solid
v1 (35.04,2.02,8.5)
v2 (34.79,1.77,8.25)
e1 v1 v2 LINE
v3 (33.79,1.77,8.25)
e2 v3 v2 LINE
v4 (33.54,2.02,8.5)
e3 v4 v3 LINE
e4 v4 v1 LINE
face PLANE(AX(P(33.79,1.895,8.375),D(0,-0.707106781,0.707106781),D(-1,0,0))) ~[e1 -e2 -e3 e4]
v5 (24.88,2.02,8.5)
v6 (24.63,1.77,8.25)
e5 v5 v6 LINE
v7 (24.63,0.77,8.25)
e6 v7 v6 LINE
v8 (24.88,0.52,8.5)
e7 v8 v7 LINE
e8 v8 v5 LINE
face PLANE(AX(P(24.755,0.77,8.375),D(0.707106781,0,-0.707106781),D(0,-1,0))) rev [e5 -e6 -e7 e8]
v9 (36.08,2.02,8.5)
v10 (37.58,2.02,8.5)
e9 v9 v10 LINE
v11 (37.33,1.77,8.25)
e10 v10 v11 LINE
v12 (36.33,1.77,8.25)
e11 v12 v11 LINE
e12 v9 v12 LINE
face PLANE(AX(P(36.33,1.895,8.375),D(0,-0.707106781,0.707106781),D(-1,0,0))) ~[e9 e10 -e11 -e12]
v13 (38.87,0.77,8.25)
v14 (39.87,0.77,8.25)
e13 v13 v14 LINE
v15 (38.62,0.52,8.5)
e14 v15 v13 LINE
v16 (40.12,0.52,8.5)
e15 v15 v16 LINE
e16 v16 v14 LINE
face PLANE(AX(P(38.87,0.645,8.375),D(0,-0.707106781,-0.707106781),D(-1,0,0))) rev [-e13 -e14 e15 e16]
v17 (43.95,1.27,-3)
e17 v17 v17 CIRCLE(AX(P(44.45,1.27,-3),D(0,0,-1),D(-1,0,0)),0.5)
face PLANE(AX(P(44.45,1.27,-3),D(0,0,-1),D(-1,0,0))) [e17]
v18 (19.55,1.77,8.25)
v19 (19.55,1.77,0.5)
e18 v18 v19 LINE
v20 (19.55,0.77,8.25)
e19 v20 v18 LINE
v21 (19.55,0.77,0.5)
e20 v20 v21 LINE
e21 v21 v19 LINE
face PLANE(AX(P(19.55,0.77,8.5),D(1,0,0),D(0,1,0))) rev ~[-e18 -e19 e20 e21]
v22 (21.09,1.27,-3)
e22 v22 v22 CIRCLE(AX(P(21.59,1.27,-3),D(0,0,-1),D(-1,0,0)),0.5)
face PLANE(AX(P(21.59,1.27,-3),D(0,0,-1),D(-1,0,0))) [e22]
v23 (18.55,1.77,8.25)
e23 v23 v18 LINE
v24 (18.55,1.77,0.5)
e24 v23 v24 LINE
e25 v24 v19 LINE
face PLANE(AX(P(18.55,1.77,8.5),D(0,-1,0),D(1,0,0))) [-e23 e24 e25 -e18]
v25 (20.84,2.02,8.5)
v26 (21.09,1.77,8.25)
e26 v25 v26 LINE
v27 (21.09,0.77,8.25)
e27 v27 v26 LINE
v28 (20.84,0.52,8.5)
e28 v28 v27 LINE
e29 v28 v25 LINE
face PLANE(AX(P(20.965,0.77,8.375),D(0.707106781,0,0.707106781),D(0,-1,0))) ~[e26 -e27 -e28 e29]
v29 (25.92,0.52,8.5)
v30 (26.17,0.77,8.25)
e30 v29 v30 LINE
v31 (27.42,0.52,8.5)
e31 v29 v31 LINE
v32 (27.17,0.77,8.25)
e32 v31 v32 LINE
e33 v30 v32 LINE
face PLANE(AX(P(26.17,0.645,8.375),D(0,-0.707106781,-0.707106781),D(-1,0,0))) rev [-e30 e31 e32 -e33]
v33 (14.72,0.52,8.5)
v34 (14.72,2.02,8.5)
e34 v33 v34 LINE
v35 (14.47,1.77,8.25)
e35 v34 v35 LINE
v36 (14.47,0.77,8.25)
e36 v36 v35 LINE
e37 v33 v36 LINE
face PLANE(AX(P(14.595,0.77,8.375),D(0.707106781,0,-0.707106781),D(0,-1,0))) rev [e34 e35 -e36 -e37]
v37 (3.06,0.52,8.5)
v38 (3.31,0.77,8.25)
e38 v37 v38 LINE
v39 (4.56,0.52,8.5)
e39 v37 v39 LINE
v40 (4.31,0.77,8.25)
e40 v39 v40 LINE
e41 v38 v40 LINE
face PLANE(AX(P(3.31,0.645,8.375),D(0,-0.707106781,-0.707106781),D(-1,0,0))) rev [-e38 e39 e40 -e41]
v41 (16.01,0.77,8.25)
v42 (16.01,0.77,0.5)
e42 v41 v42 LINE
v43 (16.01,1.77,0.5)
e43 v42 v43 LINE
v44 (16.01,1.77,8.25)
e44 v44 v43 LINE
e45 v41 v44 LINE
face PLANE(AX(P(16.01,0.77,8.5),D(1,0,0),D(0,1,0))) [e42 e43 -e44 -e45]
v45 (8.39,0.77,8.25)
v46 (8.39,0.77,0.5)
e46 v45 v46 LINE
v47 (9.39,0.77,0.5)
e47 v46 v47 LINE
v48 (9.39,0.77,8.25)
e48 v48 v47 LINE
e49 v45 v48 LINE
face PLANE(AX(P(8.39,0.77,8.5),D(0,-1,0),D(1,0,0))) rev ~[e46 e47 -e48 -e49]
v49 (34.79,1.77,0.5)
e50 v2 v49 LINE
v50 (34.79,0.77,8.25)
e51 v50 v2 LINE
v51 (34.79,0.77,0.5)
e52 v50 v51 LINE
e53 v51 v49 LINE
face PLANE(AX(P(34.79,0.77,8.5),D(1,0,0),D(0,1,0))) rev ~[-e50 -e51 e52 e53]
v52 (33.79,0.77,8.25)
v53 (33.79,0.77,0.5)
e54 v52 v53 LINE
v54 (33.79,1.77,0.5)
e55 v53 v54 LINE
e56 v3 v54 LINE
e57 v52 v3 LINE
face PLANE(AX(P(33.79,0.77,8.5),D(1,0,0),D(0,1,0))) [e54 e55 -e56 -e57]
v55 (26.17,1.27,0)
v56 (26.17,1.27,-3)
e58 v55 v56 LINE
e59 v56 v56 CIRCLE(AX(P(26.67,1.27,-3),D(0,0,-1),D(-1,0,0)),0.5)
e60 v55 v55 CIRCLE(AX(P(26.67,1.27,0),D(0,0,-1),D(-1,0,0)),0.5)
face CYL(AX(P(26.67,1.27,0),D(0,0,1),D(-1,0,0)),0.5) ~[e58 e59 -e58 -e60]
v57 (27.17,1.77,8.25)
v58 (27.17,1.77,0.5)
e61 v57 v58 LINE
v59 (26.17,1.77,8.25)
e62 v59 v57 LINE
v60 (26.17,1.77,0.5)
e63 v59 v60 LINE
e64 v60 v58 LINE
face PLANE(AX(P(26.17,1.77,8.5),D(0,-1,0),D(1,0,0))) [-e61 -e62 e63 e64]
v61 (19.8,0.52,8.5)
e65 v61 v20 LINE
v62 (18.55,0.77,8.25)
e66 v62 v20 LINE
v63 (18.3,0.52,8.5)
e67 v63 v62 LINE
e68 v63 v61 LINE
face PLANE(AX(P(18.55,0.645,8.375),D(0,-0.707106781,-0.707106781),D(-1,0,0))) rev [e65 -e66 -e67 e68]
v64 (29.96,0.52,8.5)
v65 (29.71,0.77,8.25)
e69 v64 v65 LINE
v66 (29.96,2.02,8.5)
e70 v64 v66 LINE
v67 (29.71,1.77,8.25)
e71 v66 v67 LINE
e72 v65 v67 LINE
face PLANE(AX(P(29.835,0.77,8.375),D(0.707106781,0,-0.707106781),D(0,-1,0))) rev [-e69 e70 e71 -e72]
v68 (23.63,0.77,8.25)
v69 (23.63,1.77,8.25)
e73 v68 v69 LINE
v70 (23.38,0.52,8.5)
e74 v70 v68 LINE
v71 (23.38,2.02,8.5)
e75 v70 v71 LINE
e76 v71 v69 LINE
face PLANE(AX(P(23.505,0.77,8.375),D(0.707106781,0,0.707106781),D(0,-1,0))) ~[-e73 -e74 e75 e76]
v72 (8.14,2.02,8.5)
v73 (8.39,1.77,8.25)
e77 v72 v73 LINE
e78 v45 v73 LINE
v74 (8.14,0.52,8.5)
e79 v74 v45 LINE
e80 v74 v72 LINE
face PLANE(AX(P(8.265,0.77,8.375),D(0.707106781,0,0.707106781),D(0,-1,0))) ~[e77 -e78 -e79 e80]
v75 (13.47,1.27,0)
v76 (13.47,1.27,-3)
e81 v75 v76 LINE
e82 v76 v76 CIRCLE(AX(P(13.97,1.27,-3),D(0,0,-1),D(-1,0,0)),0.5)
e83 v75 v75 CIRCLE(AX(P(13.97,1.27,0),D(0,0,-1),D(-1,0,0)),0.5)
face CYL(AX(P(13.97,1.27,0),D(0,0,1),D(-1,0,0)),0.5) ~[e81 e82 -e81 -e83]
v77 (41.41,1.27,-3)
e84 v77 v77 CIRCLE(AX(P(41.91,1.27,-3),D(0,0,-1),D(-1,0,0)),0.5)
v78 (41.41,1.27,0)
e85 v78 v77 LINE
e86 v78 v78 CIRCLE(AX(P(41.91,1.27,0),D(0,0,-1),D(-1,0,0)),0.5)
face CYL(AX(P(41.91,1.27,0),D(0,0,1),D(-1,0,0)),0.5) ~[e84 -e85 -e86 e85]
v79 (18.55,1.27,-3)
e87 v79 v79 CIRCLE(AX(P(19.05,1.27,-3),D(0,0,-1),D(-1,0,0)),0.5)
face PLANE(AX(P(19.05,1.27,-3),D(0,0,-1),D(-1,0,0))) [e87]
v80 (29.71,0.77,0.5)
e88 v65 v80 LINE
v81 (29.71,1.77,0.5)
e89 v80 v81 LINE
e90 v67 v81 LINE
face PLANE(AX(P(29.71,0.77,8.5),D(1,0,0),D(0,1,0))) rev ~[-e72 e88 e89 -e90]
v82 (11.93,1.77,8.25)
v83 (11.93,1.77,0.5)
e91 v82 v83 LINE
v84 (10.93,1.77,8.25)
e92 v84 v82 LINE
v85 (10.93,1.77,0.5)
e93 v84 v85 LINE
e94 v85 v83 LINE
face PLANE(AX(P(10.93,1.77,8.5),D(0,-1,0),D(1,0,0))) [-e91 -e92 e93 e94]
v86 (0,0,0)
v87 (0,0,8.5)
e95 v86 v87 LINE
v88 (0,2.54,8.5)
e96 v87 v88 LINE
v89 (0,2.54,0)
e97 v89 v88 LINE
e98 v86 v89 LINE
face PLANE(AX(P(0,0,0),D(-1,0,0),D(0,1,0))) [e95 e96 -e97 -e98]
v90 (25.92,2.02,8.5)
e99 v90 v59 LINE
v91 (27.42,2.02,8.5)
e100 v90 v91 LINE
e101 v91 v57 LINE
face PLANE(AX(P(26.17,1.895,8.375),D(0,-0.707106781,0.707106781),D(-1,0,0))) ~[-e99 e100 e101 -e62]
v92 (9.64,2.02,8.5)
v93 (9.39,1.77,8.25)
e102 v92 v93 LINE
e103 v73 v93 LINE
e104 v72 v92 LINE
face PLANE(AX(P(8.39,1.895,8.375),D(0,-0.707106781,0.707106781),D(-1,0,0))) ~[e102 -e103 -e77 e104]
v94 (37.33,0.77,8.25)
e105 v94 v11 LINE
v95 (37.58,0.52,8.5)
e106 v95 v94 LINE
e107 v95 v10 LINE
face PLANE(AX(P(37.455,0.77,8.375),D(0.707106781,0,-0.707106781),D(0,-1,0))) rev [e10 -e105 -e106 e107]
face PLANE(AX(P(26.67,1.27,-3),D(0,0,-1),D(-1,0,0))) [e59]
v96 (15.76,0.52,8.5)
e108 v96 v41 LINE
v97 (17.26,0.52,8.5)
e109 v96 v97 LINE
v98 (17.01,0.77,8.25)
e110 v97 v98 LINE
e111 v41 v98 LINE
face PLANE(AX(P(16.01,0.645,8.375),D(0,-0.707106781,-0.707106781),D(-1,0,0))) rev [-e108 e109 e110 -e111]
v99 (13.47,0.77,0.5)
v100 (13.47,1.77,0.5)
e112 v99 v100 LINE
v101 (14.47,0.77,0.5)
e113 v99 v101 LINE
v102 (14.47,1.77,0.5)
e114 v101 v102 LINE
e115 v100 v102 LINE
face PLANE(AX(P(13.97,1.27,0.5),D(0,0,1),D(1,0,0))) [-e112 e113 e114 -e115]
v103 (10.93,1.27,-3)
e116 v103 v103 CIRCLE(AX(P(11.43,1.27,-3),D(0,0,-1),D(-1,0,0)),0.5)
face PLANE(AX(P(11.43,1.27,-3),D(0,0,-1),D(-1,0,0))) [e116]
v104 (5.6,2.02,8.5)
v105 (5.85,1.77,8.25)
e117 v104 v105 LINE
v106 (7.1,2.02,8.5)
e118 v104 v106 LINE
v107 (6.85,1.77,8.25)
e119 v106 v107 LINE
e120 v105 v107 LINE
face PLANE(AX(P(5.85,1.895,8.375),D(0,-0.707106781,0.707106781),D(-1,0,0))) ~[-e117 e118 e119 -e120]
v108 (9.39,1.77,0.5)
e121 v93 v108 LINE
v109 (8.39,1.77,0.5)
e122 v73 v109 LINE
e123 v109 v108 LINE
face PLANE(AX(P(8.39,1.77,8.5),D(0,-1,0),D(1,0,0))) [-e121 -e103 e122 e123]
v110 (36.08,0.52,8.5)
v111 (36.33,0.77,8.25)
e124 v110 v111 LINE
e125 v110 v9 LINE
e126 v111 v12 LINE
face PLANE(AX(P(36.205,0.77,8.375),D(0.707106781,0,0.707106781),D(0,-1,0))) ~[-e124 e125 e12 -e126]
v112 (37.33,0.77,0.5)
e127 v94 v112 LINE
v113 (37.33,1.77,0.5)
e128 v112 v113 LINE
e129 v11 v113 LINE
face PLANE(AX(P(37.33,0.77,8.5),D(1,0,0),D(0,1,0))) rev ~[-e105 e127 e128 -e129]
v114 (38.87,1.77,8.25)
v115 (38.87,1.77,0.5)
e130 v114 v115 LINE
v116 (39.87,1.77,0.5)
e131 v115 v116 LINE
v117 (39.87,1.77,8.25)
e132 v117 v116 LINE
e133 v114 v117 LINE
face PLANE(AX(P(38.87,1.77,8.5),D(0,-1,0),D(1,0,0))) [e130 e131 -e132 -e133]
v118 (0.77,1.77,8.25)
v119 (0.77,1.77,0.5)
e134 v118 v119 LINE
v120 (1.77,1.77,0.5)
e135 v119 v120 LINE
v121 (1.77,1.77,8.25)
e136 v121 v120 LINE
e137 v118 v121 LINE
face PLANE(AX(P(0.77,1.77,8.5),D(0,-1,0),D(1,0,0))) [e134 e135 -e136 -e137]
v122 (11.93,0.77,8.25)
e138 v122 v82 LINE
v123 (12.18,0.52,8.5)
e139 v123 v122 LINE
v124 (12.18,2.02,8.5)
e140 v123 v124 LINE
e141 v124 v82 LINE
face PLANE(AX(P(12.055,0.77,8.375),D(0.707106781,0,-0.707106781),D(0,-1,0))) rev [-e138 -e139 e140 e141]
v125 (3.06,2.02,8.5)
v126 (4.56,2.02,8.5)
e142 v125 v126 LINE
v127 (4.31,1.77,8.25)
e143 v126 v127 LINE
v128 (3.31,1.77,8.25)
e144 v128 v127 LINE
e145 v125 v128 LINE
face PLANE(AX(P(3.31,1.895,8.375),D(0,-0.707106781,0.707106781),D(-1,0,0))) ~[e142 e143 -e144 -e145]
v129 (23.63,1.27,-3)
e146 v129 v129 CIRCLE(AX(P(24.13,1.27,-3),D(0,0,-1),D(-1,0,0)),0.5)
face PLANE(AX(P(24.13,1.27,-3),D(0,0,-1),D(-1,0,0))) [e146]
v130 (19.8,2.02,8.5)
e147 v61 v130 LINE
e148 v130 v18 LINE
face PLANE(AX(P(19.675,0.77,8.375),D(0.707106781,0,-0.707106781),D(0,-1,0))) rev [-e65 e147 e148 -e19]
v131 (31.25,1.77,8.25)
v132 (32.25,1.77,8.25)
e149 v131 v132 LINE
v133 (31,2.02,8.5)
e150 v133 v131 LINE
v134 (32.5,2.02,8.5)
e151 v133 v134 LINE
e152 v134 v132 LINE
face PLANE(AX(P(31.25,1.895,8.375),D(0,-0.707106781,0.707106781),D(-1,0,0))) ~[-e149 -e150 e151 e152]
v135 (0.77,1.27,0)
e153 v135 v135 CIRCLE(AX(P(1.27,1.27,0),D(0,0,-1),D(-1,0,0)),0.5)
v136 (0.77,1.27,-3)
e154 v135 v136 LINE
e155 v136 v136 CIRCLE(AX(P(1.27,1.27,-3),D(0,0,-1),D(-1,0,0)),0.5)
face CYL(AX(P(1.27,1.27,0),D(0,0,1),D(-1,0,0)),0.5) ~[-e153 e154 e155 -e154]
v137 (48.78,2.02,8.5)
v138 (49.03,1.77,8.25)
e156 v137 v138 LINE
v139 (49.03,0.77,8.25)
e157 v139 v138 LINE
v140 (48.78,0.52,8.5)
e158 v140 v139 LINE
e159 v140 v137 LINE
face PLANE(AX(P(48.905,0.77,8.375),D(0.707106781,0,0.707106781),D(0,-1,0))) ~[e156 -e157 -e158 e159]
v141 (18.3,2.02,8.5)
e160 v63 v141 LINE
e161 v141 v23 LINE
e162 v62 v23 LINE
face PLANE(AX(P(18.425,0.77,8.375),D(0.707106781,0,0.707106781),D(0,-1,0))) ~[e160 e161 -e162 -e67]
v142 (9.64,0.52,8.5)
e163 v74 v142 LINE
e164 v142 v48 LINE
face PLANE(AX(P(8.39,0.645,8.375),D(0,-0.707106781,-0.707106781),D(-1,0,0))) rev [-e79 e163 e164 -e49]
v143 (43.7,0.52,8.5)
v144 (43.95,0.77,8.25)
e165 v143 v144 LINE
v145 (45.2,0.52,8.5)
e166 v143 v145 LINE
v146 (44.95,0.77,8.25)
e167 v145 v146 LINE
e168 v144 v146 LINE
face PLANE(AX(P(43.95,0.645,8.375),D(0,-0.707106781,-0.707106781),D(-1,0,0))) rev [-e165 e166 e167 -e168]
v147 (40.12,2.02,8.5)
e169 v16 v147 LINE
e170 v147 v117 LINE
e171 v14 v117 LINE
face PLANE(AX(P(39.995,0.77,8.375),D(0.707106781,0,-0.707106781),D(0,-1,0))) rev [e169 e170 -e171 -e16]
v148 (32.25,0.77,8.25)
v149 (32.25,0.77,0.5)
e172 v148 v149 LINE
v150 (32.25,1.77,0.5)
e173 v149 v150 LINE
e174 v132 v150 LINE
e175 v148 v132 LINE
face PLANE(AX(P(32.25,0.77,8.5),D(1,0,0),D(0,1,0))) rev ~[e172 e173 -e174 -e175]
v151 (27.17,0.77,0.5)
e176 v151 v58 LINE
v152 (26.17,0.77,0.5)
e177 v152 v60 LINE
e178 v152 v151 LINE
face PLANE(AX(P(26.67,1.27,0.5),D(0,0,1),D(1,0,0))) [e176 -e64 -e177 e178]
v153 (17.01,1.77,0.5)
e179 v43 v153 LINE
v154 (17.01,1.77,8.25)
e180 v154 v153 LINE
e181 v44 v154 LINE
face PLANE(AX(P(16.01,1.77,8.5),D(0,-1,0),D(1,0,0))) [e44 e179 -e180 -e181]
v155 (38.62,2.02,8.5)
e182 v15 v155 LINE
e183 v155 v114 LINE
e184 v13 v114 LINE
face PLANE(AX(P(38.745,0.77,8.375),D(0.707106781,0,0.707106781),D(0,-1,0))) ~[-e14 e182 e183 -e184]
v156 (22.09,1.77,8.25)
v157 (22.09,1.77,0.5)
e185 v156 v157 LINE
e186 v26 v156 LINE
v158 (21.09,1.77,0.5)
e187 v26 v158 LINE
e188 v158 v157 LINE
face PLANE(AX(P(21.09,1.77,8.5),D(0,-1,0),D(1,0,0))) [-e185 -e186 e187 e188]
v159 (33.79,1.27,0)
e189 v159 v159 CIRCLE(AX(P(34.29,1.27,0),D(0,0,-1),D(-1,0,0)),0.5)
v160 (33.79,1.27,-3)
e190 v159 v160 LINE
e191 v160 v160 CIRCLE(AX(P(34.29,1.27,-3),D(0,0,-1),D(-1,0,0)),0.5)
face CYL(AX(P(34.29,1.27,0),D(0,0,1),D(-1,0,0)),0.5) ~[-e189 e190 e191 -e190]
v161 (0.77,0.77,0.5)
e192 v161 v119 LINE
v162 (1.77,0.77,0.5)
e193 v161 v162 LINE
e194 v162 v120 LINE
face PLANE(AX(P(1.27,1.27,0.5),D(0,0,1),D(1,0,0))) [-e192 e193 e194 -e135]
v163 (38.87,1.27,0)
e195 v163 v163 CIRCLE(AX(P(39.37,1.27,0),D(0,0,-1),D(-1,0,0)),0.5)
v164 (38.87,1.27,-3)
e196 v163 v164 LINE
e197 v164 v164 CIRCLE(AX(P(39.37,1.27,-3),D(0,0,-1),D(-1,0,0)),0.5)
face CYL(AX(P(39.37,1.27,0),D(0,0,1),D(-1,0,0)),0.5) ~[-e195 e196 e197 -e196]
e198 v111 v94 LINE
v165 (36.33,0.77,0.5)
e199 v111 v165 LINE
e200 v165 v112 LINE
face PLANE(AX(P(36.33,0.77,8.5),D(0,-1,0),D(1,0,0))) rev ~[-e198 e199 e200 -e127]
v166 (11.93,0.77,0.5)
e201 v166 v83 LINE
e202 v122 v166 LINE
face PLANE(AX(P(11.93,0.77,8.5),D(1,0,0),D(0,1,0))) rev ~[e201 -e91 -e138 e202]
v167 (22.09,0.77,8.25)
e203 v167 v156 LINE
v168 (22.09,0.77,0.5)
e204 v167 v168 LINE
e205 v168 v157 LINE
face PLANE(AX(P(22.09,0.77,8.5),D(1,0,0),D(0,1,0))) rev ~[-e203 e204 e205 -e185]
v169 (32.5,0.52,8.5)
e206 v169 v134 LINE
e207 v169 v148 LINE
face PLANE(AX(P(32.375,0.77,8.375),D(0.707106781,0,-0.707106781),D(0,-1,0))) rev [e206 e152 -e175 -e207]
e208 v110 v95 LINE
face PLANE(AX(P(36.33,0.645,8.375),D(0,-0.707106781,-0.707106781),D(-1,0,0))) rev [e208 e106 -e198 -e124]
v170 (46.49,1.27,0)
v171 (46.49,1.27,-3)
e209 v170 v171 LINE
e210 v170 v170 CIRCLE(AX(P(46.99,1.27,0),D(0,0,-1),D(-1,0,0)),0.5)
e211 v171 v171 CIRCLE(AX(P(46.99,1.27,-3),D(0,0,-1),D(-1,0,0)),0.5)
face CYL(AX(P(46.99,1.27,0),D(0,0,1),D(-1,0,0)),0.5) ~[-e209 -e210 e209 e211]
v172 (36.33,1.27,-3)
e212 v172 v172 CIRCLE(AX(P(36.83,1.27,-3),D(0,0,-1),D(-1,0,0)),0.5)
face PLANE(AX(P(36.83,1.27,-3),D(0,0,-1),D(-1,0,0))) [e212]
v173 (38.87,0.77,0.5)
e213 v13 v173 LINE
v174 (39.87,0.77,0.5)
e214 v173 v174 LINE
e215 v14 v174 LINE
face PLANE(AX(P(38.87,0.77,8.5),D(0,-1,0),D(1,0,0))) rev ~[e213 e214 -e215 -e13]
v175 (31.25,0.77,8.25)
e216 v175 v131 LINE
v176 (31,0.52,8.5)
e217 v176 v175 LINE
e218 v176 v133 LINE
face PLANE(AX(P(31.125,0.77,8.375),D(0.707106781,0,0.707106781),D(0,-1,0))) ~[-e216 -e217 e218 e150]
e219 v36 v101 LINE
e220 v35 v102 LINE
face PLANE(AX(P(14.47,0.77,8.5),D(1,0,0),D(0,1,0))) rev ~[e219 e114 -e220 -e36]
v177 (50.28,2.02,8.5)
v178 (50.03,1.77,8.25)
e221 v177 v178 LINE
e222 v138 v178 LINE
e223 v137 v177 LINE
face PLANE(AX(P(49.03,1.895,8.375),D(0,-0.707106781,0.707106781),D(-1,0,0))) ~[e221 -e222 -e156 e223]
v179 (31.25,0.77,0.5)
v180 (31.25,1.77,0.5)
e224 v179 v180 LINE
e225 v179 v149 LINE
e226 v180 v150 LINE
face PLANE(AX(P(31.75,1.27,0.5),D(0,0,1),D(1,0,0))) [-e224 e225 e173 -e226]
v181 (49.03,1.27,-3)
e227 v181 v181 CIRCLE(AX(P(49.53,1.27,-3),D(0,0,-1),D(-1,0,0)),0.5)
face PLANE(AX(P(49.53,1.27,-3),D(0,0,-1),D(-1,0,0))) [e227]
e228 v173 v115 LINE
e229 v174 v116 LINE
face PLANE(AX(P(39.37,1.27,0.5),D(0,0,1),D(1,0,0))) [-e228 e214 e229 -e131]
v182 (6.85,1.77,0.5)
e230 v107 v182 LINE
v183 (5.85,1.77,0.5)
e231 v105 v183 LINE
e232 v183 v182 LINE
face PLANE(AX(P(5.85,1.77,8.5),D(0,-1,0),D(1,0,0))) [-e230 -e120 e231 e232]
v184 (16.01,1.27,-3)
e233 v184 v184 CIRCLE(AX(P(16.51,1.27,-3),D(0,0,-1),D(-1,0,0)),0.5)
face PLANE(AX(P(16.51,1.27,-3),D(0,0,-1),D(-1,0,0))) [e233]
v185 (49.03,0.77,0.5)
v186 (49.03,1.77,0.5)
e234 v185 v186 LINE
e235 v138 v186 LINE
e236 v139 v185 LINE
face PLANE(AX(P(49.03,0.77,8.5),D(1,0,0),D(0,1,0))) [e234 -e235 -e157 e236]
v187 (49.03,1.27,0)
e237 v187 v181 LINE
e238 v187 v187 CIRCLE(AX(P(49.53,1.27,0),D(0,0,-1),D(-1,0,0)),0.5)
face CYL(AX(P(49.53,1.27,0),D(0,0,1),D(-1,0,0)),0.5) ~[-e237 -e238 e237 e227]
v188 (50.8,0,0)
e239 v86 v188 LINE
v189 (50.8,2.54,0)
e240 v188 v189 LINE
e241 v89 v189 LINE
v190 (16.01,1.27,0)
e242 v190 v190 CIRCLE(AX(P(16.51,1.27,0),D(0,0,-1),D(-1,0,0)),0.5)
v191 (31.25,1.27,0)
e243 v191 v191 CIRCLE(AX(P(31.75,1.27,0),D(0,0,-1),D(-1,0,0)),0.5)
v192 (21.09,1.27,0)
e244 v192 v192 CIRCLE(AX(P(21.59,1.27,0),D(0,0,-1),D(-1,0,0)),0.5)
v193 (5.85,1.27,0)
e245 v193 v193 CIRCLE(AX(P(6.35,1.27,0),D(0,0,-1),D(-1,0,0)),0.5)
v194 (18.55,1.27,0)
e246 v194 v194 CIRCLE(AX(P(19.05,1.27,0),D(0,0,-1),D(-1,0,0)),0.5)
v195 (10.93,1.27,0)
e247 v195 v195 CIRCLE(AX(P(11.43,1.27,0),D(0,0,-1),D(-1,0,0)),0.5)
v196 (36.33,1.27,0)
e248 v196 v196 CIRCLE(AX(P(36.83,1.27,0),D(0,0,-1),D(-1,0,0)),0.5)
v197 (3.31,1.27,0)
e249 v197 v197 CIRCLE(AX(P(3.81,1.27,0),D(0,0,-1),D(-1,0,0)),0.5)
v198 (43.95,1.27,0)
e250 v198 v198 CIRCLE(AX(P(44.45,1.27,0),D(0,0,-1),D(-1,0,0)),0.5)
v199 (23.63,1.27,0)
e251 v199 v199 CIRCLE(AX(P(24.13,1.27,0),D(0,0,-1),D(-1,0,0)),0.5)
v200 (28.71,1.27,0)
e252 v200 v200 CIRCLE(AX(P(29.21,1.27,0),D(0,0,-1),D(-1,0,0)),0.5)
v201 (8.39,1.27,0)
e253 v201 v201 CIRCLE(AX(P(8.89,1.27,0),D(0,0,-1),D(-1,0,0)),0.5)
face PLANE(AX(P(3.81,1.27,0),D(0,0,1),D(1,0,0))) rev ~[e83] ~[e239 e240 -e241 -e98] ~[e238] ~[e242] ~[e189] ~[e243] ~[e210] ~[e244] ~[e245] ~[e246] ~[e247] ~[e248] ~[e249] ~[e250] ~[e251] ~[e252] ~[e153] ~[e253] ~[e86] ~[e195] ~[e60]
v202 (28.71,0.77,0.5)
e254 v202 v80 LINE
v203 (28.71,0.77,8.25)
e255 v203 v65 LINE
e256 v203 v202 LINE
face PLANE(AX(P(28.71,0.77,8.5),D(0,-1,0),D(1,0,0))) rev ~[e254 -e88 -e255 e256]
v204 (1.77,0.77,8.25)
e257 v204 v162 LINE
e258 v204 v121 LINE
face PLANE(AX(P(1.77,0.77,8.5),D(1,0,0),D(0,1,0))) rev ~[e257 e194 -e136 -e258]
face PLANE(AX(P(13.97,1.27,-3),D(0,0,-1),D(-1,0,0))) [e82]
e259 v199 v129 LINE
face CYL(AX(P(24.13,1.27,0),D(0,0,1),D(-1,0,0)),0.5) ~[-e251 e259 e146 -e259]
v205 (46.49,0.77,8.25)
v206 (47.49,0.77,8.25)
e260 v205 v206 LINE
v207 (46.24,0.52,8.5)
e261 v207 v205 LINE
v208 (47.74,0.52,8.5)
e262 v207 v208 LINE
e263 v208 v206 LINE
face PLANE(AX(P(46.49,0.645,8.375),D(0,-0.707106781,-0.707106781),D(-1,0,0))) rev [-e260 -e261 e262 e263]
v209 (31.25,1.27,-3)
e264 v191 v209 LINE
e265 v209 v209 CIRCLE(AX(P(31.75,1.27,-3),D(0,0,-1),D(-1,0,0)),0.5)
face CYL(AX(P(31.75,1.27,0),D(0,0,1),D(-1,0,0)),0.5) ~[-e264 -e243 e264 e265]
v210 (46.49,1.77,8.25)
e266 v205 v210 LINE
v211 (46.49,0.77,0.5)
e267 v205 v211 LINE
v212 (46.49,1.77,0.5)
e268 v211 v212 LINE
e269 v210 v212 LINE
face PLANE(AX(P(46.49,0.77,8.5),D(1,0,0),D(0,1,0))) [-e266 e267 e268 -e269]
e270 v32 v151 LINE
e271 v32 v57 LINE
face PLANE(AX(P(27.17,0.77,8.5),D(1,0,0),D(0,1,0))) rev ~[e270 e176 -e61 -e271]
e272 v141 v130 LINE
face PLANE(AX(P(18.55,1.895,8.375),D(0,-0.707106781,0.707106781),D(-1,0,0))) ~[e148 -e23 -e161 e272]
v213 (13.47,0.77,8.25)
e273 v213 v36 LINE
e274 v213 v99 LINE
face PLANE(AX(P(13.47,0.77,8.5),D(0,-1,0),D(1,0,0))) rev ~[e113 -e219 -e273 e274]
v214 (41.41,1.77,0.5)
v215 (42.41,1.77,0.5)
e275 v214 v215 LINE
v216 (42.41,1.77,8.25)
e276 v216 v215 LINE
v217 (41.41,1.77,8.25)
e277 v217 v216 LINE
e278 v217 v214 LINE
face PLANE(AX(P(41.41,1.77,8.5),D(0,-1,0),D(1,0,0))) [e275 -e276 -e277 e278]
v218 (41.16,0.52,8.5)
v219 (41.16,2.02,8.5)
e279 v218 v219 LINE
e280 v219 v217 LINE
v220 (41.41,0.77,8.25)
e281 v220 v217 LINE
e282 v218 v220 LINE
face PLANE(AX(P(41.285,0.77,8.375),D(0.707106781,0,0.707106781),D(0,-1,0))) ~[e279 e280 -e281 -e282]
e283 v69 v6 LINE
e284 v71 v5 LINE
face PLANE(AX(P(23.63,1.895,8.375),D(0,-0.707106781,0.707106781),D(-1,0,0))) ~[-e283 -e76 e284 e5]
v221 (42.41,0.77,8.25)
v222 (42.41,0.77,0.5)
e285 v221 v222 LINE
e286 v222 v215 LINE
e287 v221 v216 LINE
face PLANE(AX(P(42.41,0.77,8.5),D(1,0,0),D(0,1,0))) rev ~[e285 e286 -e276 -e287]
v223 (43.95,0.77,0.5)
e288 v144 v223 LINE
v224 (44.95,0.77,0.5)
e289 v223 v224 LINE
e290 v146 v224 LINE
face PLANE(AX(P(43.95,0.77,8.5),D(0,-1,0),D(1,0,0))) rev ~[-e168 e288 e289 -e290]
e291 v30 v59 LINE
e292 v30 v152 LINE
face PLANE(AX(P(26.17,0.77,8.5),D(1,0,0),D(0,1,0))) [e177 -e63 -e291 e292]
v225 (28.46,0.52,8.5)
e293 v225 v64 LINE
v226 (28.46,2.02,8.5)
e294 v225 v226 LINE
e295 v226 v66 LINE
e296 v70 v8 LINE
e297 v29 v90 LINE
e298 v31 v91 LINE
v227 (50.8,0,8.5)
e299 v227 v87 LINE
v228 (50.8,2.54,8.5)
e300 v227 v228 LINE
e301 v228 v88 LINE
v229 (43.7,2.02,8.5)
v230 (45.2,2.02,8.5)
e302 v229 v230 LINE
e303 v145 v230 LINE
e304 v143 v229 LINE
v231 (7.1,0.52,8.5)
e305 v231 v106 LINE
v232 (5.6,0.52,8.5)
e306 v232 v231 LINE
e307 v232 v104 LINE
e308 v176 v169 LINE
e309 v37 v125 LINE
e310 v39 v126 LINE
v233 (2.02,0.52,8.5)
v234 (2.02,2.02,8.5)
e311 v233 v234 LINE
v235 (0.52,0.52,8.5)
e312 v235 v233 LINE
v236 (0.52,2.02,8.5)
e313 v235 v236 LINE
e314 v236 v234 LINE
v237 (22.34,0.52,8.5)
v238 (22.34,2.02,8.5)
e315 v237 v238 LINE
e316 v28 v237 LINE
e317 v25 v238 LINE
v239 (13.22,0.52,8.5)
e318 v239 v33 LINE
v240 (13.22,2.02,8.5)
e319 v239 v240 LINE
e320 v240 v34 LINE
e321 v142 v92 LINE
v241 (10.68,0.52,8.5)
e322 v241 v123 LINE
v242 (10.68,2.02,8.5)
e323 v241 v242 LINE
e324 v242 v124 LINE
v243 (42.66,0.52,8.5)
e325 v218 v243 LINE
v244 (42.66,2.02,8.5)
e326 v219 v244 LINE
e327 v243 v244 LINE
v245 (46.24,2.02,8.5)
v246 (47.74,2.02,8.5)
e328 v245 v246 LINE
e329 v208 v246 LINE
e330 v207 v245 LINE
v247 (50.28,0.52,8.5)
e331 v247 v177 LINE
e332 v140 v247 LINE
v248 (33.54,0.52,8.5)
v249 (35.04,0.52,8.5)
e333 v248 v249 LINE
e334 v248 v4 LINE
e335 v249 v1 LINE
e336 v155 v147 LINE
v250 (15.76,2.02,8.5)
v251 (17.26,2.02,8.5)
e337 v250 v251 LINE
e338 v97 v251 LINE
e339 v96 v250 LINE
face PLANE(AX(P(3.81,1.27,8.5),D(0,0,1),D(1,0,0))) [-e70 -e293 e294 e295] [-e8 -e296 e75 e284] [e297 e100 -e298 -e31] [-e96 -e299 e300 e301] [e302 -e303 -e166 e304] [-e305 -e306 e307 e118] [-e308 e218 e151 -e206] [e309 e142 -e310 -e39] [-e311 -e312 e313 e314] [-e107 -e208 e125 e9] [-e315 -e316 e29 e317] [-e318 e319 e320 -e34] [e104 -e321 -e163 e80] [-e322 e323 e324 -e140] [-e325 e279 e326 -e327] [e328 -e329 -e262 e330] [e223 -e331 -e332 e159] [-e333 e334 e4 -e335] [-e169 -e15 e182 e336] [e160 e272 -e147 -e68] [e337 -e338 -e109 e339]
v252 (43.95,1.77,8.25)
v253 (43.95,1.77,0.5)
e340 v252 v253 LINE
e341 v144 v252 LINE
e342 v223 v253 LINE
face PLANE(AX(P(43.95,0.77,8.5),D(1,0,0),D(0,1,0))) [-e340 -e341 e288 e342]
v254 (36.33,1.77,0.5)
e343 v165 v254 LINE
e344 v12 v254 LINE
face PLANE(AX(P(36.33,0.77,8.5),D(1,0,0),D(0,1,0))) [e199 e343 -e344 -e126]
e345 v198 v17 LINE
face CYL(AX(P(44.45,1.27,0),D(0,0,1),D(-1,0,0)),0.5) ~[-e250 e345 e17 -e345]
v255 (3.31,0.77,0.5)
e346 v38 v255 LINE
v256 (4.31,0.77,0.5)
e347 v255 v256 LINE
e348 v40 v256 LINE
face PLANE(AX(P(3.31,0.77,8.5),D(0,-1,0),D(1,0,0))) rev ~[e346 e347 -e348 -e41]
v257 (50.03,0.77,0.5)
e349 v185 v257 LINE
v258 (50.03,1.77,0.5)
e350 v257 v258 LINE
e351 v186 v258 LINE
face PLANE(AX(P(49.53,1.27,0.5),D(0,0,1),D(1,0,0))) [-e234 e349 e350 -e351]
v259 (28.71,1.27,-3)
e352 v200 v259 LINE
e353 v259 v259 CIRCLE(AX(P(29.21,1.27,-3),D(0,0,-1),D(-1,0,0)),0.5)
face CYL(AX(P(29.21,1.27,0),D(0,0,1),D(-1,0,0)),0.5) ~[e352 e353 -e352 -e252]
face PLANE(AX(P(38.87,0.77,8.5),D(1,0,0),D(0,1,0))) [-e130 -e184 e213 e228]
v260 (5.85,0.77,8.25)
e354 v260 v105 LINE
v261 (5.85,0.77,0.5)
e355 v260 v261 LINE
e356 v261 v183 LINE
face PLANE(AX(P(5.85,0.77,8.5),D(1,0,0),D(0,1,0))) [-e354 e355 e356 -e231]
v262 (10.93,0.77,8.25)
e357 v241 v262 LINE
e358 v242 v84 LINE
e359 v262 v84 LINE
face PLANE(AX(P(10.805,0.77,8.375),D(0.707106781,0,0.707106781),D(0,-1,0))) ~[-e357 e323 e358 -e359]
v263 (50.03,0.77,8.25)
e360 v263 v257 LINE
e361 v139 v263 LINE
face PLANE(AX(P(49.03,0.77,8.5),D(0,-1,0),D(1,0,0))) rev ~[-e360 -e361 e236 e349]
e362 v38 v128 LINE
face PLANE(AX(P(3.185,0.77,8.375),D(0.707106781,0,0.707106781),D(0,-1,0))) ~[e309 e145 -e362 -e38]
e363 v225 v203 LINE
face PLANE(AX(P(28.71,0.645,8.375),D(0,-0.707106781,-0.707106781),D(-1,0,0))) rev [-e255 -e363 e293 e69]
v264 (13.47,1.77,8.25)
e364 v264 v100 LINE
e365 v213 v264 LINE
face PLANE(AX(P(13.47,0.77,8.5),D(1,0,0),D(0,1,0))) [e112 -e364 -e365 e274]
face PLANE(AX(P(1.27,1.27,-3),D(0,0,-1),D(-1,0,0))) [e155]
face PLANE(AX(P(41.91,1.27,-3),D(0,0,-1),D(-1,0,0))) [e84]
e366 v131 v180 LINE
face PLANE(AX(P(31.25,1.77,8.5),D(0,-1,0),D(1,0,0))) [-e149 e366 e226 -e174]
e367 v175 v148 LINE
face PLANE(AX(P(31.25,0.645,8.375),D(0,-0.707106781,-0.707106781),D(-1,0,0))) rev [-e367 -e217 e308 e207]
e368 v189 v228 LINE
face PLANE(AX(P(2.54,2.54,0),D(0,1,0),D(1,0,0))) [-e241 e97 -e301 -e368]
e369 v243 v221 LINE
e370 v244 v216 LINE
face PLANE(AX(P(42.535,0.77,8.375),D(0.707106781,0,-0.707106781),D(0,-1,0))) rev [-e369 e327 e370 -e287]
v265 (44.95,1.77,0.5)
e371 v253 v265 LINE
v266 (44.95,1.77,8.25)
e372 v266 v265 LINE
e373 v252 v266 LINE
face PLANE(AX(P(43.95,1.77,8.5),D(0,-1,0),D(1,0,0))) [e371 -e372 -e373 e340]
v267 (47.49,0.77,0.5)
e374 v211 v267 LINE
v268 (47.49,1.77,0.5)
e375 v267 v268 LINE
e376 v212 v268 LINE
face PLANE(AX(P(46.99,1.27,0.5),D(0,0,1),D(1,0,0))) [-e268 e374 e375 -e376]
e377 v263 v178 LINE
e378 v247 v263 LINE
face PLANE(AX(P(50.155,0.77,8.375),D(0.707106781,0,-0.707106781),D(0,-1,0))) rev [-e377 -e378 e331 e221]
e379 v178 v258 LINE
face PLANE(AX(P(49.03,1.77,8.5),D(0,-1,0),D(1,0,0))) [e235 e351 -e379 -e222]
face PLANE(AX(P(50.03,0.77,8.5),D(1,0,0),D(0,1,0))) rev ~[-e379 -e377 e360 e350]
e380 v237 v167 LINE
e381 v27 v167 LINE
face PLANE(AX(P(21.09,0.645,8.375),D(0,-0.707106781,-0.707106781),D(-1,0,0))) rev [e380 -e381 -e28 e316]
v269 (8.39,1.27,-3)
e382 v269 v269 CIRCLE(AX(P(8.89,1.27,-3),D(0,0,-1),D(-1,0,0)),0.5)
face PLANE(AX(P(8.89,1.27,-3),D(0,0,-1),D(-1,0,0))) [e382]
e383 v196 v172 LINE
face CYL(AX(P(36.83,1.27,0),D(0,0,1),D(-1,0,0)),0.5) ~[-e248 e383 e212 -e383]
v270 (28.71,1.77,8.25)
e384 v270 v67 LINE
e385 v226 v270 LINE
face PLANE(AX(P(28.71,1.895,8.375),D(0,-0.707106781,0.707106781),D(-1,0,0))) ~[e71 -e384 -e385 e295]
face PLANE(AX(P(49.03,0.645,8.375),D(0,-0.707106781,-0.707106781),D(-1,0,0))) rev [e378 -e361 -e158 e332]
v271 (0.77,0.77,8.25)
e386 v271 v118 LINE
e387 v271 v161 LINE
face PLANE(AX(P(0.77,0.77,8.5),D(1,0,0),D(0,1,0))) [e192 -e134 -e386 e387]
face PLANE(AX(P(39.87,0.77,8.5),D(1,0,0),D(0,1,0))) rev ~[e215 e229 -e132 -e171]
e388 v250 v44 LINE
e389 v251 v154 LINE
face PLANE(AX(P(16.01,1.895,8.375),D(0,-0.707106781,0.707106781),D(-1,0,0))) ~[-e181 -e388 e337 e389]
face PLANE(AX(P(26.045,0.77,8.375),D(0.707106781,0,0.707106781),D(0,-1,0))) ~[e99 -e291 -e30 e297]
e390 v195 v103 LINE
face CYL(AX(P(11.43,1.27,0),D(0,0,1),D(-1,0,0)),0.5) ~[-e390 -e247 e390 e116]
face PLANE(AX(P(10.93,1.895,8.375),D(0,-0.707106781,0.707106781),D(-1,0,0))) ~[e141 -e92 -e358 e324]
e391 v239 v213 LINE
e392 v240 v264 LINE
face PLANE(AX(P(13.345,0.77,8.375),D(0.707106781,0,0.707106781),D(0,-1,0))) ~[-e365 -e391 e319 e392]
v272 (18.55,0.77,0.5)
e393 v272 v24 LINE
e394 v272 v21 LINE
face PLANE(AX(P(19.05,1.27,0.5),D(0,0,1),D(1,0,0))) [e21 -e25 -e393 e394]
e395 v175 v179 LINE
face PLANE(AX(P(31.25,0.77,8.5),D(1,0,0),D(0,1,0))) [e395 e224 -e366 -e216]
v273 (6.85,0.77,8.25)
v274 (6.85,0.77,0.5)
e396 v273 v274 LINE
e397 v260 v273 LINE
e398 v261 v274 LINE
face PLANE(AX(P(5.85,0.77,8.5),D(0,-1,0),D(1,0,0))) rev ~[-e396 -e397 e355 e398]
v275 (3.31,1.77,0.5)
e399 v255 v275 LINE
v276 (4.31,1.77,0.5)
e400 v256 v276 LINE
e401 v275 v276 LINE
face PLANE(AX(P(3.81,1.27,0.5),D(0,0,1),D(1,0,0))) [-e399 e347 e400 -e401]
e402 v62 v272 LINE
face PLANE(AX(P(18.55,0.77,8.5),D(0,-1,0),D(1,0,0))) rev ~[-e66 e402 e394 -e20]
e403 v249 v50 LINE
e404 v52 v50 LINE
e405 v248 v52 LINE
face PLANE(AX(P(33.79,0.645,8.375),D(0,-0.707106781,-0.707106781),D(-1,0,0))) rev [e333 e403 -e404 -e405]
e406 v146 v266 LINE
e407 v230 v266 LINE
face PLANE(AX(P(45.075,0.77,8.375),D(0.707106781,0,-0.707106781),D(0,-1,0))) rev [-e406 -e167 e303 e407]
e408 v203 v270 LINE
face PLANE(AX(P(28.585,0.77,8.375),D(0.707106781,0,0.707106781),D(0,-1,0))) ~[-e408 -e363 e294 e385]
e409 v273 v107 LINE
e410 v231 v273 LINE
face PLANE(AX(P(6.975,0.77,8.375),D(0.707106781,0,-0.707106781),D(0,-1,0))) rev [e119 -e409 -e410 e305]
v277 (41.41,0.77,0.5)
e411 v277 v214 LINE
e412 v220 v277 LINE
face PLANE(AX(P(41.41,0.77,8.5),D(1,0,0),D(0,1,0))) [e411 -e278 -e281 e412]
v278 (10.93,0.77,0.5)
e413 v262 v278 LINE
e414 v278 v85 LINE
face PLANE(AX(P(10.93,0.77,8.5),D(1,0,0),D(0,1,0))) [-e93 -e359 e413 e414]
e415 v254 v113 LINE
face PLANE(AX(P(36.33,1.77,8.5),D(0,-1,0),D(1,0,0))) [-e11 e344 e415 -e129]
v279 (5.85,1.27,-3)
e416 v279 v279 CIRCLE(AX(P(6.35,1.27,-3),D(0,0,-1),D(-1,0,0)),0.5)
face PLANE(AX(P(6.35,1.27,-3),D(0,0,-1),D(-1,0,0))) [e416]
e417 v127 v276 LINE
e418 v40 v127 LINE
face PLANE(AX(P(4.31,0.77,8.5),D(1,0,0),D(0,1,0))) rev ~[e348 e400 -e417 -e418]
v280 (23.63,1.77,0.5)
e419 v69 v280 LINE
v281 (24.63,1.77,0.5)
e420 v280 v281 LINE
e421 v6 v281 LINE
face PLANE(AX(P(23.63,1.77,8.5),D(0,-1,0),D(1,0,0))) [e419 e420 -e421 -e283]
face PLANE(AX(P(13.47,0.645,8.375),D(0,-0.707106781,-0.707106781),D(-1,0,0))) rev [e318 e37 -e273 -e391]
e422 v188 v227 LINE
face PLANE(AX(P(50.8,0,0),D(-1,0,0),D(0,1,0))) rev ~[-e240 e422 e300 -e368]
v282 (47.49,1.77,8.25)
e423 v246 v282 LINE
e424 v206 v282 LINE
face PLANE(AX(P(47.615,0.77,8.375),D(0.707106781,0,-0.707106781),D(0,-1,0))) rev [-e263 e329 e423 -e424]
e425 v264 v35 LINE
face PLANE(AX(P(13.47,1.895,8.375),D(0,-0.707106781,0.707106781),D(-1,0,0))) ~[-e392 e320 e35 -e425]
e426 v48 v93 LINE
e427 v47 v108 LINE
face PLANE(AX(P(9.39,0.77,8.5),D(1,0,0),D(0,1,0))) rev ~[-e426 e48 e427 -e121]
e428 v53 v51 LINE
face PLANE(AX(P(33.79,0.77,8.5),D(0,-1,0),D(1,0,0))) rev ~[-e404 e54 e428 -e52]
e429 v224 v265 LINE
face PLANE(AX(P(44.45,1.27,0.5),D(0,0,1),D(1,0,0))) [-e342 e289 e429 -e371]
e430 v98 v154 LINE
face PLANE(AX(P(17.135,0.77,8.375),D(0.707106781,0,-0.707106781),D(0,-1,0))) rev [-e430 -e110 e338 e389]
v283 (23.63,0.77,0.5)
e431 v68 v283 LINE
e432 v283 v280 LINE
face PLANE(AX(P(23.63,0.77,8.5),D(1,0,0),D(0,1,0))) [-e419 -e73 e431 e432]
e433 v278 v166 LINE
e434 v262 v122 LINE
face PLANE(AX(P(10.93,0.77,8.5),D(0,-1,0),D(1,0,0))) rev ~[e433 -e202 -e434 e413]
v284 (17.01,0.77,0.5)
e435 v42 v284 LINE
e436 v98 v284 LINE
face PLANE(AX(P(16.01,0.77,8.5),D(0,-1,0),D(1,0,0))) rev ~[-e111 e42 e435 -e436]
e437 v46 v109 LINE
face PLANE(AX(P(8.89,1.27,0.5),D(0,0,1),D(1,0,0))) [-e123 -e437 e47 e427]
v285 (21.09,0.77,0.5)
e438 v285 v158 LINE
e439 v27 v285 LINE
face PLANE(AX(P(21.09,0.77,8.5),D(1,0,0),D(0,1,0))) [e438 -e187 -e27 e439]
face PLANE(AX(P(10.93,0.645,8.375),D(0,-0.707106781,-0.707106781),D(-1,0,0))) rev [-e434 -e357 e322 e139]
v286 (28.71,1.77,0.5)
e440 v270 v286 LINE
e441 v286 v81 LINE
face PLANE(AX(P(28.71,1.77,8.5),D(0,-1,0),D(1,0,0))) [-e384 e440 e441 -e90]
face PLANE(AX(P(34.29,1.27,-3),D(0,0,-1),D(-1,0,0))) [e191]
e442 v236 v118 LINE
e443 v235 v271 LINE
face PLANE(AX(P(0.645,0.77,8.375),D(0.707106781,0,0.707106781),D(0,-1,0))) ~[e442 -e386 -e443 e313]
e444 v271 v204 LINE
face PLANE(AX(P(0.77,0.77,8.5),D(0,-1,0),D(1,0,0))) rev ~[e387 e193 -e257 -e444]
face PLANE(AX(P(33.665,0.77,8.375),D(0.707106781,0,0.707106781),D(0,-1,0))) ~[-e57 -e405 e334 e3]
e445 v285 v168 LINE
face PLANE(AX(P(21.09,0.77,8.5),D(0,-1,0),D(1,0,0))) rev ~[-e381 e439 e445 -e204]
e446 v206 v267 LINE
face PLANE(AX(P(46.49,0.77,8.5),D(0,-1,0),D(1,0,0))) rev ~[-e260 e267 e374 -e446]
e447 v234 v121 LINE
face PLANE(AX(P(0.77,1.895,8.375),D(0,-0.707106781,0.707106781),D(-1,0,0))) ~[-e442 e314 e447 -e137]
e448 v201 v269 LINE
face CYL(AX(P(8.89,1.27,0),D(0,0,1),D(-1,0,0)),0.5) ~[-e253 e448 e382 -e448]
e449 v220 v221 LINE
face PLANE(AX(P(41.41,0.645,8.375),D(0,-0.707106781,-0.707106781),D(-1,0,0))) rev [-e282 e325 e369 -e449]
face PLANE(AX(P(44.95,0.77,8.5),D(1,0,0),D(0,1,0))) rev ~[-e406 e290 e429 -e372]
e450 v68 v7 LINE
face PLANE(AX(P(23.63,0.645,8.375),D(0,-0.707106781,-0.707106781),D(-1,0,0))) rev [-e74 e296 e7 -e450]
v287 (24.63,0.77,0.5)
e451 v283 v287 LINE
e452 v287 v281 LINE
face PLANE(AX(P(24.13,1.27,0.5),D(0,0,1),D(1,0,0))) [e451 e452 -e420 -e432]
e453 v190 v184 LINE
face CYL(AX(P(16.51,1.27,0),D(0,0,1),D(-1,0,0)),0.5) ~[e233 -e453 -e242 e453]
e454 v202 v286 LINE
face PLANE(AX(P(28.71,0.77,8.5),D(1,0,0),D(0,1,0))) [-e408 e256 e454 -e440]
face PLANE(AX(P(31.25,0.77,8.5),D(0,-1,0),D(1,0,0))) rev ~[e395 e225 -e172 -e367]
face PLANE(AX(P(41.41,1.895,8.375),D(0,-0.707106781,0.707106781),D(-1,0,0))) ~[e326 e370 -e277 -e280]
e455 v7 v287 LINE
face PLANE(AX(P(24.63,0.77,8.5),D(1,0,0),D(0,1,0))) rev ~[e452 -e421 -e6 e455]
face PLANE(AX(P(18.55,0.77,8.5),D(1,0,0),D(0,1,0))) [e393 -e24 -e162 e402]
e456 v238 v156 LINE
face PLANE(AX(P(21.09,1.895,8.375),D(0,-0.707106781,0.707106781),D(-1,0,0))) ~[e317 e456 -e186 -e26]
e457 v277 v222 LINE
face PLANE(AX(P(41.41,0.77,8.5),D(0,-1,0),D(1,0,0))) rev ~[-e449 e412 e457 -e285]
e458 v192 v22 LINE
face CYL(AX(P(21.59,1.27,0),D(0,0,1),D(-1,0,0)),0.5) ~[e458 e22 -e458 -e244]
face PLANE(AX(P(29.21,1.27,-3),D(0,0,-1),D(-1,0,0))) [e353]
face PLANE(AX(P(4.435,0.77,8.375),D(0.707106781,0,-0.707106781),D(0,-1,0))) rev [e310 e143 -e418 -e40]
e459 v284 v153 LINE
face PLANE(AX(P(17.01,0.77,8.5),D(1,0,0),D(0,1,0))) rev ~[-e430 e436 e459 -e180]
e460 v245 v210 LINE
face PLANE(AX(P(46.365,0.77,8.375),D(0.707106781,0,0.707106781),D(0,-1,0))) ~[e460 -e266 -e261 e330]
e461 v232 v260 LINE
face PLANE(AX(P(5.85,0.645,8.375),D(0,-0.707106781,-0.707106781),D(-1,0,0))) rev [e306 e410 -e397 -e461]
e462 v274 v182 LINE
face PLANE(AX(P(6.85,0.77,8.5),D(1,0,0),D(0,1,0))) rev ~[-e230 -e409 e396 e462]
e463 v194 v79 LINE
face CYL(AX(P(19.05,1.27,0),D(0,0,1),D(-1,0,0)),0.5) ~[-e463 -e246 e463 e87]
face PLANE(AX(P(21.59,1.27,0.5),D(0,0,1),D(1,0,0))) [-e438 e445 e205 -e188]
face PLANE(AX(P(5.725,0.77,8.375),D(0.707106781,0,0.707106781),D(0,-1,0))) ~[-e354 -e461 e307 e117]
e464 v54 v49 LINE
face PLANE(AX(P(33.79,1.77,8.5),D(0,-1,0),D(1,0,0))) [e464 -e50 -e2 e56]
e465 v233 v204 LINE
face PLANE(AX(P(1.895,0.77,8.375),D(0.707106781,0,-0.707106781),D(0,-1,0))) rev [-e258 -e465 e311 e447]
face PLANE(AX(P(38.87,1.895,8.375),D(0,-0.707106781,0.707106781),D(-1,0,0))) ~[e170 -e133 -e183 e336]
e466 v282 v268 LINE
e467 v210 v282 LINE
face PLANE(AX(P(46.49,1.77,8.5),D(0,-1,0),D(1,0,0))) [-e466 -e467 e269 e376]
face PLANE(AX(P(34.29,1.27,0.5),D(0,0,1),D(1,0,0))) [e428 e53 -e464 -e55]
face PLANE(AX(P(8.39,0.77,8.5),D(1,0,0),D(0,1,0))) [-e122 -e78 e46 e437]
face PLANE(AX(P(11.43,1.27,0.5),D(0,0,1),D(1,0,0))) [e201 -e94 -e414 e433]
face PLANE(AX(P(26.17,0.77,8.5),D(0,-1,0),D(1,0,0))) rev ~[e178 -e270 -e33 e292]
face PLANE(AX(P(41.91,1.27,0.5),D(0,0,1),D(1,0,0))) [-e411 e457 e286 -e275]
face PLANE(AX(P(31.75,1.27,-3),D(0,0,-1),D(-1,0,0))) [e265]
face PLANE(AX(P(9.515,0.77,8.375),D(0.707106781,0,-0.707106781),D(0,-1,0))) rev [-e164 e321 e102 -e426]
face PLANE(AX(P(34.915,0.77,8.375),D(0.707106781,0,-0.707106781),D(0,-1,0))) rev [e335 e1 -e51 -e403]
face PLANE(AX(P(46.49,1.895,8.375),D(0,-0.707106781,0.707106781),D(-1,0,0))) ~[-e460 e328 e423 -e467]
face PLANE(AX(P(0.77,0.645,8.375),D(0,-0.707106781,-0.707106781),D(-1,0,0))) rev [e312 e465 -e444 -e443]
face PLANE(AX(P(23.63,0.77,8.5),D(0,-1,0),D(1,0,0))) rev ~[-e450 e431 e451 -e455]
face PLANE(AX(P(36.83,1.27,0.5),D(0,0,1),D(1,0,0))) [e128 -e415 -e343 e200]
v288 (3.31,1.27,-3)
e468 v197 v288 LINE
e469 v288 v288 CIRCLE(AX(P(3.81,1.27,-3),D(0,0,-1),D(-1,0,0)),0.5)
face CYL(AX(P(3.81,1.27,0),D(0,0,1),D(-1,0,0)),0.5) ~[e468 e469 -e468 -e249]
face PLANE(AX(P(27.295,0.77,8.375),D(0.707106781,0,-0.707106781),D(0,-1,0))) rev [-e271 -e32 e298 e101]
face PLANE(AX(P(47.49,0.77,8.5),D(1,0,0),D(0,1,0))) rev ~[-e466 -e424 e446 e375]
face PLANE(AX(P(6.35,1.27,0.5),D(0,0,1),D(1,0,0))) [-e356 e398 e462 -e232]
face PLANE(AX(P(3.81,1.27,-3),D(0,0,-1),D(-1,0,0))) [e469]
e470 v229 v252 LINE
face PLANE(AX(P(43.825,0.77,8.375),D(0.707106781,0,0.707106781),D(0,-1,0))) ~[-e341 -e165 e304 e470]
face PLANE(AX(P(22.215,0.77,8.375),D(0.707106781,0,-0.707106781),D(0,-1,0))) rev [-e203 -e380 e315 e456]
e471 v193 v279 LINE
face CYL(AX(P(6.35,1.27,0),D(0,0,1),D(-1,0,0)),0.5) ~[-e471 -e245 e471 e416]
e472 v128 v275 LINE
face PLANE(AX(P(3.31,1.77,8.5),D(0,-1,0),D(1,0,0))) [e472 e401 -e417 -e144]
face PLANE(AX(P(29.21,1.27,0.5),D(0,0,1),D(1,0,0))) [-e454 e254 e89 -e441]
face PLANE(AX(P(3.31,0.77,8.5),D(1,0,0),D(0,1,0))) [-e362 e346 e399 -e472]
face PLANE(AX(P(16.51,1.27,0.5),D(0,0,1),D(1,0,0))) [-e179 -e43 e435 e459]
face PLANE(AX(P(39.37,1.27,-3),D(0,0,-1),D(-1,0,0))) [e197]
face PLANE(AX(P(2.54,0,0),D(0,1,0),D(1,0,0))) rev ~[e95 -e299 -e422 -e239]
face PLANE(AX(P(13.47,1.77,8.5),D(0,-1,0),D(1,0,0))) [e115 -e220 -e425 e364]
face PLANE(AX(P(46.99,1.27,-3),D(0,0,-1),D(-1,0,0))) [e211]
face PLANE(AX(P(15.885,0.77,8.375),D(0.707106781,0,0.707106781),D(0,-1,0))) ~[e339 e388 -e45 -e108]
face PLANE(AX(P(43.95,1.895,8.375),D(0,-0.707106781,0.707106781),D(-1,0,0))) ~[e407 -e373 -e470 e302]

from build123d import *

# Parameters (mm, degrees)
SKETCH1_W                  = 2.54
SKETCH1_H                  = 2.54
BOSS_EXTRUDE1_DEPTH        = 8.5
SKETCH2_W                  = 1
SKETCH2_H                  = 1
CUT_EXTRUDE1_DEPTH         = 8
CHAMFER1_SIZE              = 0.25
SKETCH3_R                  = 0.5
BOSS_EXTRUDE2_DEPTH        = 3
LPATTERN3_COUNT            = 20
LPATTERN3_PITCH            = 2.54
CHAMFER1_OF_LPATTERN3_SIZE = 0.25


with BuildPart() as part:
    # Sketch1 → Boss-Extrude1 (new body)
    with BuildSketch(Plane.XY):
        with Locations((1.27, 1.27)):
            Rectangle(SKETCH1_W, SKETCH1_H)
    boss_extrude1 = extrude(amount=BOSS_EXTRUDE1_DEPTH)

    # Sketch2 → Cut-Extrude1 (cut)
    with BuildSketch(Plane.XY.offset(8.5)):
        with Locations((1.27, 1.27)):
            Rectangle(SKETCH2_W, SKETCH2_H)
    cut_extrude1 = extrude(amount=-CUT_EXTRUDE1_DEPTH, mode=Mode.SUBTRACT)

    # Chamfer1
    chamfer1_edges = [part.edges().sort_by_distance(p)[0] for p in [
        (0.77, 1.27, 8.5),
        (1.27, 0.77, 8.5),
        (1.77, 1.27, 8.5),
        (1.27, 1.77, 8.5),
    ]]
    chamfer(chamfer1_edges, length=CHAMFER1_SIZE)

    # Sketch3 → Boss-Extrude2 (add)
    with BuildSketch(Plane(origin=(0, 0, 0), x_dir=(-1, 0, 0), z_dir=(0, 0, -1))):
        with Locations((-1.27, 1.27)):
            Circle(SKETCH3_R)
    boss_extrude2 = extrude(amount=BOSS_EXTRUDE2_DEPTH)

    # LPattern3: Boss-Extrude1, Cut-Extrude1, Boss-Extrude2 ×20
    with Locations(*[(i * LPATTERN3_PITCH, 0, 0) for i in range(1, LPATTERN3_COUNT)]):
        add(boss_extrude1)
        add(cut_extrude1, mode=Mode.SUBTRACT)
        add(boss_extrude2)

    # Chamfer1 of LPattern3
    chamfer1_of_lpattern3_edges = [part.edges().sort_by_distance(p)[0] for p in [
        (3.31, 1.27, 8.5),
        (3.81, 0.77, 8.5),
        (4.31, 1.27, 8.5),
        (3.81, 1.77, 8.5),
        (5.85, 1.27, 8.5),
        (6.35, 0.77, 8.5),
        (6.85, 1.27, 8.5),
        (6.35, 1.77, 8.5),
        (8.39, 1.27, 8.5),
        (8.89, 0.77, 8.5),
        (9.39, 1.27, 8.5),
        (8.89, 1.77, 8.5),
        (10.93, 1.27, 8.5),
        (11.43, 0.77, 8.5),
        (11.93, 1.27, 8.5),
        (11.43, 1.77, 8.5),
        (13.47, 1.27, 8.5),
        (13.97, 0.77, 8.5),
        (14.47, 1.27, 8.5),
        (13.97, 1.77, 8.5),
        (16.01, 1.27, 8.5),
        (16.51, 0.77, 8.5),
        (17.01, 1.27, 8.5),
        (16.51, 1.77, 8.5),
        (18.55, 1.27, 8.5),
        (19.05, 0.77, 8.5),
        (19.55, 1.27, 8.5),
        (19.05, 1.77, 8.5),
        (21.09, 1.27, 8.5),
        (21.59, 0.77, 8.5),
        (22.09, 1.27, 8.5),
        (21.59, 1.77, 8.5),
        (23.63, 1.27, 8.5),
        (24.13, 0.77, 8.5),
        (24.63, 1.27, 8.5),
        (24.13, 1.77, 8.5),
        (26.17, 1.27, 8.5),
        (26.67, 0.77, 8.5),
        (27.17, 1.27, 8.5),
        (26.67, 1.77, 8.5),
        (28.71, 1.27, 8.5),
        (29.21, 0.77, 8.5),
        (29.71, 1.27, 8.5),
        (29.21, 1.77, 8.5),
        (31.25, 1.27, 8.5),
        (31.75, 0.77, 8.5),
        (32.25, 1.27, 8.5),
        (31.75, 1.77, 8.5),
        (33.79, 1.27, 8.5),
        (34.29, 0.77, 8.5),
        (34.79, 1.27, 8.5),
        (34.29, 1.77, 8.5),
        (36.33, 1.27, 8.5),
        (36.83, 0.77, 8.5),
        (37.33, 1.27, 8.5),
        (36.83, 1.77, 8.5),
        (38.87, 1.27, 8.5),
        (39.37, 0.77, 8.5),
        (39.87, 1.27, 8.5),
        (39.37, 1.77, 8.5),
        (41.41, 1.27, 8.5),
        (41.91, 0.77, 8.5),
        (42.41, 1.27, 8.5),
        (41.91, 1.77, 8.5),
        (43.95, 1.27, 8.5),
        (44.45, 0.77, 8.5),
        (44.95, 1.27, 8.5),
        (44.45, 1.77, 8.5),
        (46.49, 1.27, 8.5),
        (46.99, 0.77, 8.5),
        (47.49, 1.27, 8.5),
        (46.99, 1.77, 8.5),
        (49.03, 1.27, 8.5),
        (49.53, 0.77, 8.5),
        (50.03, 1.27, 8.5),
        (49.53, 1.77, 8.5),
    ]]
    chamfer(chamfer1_of_lpattern3_edges, length=CHAMFER1_OF_LPATTERN3_SIZE)


solid = part.part
